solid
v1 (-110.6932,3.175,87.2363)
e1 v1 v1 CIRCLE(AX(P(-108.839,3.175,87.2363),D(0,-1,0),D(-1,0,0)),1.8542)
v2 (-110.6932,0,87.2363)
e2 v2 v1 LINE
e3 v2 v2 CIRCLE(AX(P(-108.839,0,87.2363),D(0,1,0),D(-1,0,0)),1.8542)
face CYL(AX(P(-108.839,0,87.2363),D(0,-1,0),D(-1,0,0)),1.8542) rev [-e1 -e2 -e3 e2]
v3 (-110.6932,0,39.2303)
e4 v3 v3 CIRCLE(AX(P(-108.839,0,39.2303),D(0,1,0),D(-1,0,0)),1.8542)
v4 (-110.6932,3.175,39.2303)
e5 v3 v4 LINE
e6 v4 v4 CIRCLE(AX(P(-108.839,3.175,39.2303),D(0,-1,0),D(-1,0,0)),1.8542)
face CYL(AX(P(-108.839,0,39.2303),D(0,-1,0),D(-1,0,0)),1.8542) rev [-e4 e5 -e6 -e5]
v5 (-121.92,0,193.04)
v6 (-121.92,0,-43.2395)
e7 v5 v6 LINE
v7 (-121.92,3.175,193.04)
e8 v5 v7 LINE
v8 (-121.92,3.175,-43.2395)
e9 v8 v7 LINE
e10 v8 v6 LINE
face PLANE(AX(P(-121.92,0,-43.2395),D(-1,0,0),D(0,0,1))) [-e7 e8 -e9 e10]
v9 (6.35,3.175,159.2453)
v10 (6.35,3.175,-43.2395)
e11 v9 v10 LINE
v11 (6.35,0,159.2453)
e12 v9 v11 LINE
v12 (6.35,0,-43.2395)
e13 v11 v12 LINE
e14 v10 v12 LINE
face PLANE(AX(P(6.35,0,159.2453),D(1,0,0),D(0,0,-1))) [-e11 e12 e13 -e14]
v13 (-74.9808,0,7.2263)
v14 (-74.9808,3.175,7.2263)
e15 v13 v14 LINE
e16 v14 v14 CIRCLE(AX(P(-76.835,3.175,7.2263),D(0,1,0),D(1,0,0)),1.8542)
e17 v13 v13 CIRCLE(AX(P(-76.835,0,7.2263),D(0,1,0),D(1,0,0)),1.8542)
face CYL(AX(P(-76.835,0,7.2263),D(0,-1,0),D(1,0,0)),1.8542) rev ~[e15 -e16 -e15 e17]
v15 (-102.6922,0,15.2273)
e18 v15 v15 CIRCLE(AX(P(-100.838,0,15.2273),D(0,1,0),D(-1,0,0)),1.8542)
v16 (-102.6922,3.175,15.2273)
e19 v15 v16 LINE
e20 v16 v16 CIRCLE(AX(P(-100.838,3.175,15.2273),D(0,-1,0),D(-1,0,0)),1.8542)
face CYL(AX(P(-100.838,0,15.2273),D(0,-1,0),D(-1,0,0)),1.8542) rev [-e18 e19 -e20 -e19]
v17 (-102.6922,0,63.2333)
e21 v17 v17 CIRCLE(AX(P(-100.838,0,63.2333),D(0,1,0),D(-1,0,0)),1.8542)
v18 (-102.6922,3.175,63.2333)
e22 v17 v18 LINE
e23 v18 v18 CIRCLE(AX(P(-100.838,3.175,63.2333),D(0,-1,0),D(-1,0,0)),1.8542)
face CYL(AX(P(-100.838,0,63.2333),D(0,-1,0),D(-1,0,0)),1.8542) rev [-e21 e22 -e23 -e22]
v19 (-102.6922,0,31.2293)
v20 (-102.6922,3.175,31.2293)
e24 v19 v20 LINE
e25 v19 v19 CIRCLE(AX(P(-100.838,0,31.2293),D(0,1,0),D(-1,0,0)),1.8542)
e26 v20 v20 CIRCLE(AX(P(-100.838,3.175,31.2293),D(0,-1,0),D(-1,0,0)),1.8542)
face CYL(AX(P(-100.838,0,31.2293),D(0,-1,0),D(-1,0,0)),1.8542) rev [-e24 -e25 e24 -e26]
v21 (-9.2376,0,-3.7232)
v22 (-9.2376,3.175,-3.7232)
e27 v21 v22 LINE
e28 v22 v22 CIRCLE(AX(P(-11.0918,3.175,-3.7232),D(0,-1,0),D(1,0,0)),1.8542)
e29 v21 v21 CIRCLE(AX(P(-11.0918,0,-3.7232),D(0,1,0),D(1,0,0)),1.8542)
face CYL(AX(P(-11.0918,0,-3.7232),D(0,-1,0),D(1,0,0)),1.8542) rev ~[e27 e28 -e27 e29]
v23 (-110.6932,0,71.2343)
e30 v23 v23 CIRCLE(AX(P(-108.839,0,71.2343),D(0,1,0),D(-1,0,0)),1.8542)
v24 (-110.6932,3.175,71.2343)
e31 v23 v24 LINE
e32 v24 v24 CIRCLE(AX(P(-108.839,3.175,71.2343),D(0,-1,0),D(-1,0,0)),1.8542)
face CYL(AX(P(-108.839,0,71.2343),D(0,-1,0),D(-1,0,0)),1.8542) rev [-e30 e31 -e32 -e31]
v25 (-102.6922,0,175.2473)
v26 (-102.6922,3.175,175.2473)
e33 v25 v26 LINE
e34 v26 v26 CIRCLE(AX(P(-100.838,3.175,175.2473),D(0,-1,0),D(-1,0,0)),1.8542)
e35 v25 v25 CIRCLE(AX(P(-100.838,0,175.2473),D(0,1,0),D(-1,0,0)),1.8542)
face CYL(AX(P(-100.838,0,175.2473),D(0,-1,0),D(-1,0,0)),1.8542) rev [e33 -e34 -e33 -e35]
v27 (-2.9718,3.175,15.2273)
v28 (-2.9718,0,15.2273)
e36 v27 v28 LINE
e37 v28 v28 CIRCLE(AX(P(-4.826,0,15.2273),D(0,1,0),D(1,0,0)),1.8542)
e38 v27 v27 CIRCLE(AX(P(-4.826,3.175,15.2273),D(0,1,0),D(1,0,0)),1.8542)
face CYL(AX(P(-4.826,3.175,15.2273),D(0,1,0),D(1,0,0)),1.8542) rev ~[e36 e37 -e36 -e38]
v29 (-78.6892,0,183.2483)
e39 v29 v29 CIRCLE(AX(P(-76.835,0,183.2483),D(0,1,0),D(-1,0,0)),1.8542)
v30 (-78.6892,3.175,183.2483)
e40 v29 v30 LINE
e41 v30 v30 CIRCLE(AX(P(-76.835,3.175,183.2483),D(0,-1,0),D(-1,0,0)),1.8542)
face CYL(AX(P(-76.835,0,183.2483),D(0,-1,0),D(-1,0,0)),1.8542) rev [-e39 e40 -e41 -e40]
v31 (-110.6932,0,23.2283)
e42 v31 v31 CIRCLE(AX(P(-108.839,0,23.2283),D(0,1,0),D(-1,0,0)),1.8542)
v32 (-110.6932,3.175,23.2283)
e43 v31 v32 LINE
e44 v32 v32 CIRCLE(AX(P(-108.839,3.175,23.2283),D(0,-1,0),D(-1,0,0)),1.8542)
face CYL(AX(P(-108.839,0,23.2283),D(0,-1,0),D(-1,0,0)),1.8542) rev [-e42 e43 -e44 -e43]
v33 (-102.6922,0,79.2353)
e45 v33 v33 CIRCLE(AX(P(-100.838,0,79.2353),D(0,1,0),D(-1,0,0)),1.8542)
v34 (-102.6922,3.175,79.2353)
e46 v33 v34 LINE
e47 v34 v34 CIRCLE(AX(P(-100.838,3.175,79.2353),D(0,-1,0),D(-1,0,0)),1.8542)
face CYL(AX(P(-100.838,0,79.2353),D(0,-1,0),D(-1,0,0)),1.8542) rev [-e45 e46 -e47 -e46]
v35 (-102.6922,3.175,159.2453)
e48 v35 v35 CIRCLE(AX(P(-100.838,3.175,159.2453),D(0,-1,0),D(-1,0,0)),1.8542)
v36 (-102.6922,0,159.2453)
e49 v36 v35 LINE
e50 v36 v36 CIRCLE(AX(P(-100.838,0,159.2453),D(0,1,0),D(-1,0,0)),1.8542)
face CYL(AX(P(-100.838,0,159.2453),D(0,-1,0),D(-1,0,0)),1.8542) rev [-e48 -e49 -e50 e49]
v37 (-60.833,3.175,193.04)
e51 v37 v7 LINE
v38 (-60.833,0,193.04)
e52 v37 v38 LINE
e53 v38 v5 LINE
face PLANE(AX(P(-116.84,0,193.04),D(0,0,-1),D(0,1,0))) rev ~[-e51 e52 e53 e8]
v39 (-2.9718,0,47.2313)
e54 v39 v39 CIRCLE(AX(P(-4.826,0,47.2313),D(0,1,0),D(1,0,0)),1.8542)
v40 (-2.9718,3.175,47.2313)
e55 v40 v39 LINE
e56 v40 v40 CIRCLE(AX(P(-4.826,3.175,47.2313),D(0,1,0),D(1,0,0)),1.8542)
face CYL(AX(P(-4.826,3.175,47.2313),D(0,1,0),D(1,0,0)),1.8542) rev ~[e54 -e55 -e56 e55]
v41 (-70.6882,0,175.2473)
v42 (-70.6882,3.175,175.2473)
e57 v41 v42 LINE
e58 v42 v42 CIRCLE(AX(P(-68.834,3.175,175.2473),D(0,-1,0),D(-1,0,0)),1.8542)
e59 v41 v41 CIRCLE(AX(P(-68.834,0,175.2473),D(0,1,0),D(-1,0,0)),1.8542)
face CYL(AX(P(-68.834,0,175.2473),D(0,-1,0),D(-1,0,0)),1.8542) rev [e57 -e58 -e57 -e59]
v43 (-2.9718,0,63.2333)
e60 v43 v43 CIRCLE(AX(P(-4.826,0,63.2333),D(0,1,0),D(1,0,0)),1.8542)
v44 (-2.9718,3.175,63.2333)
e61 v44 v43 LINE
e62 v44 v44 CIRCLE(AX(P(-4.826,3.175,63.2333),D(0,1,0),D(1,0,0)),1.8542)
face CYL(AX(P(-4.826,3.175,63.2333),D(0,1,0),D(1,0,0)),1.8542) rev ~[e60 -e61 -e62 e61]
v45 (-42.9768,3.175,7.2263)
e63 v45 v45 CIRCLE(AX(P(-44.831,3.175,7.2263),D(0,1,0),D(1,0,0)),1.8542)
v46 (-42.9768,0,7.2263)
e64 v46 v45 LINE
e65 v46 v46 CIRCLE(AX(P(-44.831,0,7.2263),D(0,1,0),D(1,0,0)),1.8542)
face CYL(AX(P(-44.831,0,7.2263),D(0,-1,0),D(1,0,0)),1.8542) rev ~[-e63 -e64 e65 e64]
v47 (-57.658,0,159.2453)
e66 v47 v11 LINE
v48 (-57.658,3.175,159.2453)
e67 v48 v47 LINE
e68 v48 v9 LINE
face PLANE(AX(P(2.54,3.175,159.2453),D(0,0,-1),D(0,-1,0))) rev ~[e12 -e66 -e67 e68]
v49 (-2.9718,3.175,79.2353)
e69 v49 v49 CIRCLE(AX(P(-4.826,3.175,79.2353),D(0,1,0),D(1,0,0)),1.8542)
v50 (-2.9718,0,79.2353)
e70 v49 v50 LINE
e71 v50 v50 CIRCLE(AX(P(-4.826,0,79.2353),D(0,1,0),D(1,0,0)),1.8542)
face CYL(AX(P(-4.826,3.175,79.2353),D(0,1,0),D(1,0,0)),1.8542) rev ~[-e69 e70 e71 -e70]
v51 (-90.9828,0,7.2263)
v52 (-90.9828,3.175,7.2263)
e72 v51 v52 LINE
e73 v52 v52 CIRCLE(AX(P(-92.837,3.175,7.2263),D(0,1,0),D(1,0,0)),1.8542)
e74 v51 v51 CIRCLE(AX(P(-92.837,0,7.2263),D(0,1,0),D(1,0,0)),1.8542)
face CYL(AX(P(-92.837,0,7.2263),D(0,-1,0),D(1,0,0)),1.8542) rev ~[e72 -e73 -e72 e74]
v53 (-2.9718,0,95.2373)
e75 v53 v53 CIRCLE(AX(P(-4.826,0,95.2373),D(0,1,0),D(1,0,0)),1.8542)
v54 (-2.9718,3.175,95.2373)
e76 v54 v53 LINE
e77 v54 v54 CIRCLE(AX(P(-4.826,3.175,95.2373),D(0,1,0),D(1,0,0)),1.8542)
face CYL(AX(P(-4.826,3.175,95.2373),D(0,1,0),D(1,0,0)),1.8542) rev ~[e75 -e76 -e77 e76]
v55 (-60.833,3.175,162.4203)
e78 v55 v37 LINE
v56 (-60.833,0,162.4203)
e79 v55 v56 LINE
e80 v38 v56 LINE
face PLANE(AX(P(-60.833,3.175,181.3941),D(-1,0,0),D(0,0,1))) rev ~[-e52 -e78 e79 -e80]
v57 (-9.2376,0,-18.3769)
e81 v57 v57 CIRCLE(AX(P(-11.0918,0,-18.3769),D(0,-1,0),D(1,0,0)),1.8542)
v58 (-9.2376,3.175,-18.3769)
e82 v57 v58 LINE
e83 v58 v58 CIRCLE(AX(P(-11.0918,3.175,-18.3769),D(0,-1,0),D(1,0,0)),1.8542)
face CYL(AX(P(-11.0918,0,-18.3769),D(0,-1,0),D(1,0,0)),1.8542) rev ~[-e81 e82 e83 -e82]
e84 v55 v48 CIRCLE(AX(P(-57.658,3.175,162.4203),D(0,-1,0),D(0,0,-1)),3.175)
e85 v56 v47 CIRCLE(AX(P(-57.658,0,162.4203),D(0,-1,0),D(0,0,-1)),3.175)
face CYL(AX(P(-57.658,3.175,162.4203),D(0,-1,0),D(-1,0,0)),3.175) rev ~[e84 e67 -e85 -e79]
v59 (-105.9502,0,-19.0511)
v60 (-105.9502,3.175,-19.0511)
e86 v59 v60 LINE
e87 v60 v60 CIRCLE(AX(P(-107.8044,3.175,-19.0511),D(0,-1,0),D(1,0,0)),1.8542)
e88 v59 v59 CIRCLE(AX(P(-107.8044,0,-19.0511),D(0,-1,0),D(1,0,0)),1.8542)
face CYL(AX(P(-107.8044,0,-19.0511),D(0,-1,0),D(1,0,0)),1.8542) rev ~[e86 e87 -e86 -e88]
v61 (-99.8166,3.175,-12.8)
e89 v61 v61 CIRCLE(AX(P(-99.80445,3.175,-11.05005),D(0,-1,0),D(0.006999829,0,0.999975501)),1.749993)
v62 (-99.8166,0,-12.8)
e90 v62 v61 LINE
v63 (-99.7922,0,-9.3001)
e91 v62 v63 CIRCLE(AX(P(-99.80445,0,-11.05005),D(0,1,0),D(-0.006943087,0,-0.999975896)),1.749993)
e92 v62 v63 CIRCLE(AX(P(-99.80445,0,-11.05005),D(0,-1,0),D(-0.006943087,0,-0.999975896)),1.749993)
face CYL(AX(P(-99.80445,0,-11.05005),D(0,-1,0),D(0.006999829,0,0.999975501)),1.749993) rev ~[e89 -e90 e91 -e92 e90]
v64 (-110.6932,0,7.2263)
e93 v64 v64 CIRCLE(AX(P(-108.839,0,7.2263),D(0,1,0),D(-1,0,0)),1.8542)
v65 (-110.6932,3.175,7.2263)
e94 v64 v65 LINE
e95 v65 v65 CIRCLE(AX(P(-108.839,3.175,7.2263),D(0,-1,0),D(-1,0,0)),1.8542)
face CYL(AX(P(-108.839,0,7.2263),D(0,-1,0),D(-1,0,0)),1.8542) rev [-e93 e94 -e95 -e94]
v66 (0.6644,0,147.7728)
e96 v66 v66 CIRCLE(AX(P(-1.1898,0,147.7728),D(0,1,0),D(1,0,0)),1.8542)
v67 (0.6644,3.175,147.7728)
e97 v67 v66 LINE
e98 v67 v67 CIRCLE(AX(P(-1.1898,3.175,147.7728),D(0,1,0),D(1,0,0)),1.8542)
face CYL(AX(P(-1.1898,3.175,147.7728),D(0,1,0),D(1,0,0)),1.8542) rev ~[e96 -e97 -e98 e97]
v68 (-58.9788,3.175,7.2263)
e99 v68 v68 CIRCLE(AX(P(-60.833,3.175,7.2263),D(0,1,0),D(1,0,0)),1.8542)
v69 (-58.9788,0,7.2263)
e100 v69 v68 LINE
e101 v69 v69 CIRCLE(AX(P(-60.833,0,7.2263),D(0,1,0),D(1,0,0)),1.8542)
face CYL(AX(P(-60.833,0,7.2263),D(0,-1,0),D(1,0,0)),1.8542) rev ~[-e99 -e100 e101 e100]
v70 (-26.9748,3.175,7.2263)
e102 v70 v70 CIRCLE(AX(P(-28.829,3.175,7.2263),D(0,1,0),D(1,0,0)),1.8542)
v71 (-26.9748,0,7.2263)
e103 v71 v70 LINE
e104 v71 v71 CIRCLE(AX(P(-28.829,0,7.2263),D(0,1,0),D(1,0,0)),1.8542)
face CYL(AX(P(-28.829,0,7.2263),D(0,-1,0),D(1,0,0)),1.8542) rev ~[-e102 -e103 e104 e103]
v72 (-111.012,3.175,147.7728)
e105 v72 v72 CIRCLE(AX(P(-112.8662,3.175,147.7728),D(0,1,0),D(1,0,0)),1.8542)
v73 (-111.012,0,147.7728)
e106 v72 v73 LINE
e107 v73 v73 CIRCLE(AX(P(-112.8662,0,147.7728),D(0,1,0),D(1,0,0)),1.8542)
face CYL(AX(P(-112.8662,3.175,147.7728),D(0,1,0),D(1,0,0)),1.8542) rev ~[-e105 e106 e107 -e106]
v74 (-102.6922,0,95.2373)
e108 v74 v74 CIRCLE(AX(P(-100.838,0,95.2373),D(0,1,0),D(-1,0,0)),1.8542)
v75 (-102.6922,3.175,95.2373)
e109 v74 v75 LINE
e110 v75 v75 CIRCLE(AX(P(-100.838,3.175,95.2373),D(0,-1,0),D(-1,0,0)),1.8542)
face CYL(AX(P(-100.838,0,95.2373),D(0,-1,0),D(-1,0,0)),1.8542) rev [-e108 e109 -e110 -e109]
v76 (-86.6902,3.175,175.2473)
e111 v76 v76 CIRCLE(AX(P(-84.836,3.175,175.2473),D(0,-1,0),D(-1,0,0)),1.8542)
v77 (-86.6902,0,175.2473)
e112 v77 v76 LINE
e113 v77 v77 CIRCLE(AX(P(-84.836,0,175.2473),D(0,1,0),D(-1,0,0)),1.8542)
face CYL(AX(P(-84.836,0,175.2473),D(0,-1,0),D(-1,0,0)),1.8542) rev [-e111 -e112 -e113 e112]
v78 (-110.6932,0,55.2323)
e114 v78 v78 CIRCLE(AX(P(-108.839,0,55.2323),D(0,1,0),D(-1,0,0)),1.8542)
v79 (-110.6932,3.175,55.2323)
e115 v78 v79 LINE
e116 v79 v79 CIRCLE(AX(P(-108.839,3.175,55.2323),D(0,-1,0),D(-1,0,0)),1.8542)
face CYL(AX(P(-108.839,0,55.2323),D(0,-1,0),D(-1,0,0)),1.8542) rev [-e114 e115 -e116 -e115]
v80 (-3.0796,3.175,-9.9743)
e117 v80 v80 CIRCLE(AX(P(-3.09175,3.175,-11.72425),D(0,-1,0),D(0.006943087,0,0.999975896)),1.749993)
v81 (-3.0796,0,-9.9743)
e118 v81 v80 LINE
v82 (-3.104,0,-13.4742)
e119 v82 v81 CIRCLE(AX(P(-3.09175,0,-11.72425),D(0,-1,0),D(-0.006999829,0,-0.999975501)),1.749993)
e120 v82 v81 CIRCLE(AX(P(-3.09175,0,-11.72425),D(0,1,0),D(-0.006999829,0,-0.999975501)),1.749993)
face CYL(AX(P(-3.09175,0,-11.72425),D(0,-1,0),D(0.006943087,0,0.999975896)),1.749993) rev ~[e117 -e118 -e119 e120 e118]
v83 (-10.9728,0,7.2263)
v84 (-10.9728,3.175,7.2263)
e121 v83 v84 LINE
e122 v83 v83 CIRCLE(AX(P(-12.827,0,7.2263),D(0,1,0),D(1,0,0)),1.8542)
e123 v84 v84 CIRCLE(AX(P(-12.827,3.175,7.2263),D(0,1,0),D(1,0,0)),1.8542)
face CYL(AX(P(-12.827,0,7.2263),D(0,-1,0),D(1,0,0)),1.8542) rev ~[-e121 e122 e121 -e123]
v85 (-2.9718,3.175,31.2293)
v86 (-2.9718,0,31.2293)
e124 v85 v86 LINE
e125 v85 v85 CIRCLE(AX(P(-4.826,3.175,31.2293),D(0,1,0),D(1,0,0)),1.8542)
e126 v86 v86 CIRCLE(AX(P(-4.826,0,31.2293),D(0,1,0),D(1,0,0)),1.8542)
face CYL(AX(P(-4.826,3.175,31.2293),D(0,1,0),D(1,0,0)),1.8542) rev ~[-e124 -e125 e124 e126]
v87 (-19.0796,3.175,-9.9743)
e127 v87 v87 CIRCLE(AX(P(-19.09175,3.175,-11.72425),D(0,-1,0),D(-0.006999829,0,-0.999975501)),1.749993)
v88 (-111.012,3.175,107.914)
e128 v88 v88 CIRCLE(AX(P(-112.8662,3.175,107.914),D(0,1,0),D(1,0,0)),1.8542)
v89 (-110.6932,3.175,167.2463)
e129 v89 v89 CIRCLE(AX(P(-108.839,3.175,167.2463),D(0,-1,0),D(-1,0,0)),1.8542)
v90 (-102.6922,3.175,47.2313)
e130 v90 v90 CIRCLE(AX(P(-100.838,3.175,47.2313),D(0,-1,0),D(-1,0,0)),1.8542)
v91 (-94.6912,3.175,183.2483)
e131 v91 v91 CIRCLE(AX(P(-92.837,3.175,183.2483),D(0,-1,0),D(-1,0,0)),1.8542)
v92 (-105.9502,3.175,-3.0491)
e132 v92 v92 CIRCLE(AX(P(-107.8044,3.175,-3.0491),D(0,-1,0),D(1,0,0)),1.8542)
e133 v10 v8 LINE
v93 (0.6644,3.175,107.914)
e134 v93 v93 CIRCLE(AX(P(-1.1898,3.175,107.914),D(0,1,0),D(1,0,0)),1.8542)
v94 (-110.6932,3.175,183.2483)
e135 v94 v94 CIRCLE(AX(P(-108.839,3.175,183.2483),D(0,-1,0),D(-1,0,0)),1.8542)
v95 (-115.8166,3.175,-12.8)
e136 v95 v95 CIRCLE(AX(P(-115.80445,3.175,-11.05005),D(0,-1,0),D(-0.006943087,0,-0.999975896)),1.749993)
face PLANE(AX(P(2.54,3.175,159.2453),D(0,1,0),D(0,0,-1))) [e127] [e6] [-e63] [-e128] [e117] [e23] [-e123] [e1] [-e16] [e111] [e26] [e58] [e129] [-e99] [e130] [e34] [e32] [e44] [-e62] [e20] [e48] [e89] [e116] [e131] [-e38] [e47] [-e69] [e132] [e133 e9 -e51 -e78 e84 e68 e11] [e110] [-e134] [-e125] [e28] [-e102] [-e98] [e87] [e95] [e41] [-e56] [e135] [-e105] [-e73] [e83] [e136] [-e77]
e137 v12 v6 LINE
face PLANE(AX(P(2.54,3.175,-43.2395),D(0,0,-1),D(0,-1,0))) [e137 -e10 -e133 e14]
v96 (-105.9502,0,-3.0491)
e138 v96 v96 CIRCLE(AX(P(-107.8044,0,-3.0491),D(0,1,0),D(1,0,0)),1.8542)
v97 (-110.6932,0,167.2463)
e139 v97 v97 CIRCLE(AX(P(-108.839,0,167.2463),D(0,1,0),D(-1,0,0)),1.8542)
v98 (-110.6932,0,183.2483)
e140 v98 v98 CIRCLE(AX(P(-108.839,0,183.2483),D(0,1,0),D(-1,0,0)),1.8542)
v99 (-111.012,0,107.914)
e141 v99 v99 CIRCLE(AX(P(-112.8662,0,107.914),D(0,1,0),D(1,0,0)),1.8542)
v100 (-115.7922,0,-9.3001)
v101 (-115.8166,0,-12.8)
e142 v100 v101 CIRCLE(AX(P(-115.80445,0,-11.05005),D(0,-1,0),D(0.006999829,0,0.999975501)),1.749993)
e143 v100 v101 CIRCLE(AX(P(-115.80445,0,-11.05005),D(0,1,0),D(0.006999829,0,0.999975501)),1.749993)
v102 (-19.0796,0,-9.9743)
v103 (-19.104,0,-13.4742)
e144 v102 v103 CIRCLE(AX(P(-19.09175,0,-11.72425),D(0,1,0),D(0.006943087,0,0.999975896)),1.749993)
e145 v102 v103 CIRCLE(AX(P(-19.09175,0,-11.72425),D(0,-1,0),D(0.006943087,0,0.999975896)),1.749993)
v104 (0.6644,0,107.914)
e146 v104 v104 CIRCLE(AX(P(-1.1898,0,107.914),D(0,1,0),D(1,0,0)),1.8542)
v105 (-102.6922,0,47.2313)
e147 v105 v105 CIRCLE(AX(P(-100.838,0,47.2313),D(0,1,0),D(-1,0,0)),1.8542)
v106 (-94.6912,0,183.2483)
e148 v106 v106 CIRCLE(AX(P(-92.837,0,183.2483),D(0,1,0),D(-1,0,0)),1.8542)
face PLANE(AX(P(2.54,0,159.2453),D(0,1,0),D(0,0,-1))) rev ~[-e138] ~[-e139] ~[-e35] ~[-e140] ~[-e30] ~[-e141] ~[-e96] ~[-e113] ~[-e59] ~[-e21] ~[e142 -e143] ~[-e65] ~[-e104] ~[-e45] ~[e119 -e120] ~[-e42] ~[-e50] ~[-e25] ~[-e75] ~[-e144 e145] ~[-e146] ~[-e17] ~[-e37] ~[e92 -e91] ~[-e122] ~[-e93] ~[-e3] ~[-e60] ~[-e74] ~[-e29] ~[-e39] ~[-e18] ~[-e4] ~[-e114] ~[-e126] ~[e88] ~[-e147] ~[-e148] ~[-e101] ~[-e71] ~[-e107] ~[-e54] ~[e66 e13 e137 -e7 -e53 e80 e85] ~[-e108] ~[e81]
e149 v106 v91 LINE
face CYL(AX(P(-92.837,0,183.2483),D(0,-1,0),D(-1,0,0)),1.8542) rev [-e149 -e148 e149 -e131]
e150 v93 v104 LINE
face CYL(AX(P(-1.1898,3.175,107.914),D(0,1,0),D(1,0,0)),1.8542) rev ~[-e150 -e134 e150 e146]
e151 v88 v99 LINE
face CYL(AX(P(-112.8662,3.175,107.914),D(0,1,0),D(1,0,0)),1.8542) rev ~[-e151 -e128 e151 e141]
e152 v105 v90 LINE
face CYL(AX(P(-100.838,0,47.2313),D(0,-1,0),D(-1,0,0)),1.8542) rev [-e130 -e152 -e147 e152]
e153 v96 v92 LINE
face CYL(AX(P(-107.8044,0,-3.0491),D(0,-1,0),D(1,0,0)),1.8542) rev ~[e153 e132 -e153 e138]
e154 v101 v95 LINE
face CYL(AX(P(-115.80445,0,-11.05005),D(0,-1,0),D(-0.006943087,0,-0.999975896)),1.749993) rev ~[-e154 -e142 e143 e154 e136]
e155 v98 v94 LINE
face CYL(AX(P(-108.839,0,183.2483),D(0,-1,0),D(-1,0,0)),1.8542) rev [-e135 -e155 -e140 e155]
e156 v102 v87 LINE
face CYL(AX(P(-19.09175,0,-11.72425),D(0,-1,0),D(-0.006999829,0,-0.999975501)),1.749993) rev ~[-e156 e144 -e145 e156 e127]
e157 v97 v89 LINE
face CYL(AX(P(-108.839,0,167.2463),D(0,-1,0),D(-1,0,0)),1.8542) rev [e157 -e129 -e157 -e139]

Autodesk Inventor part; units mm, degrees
ref_plane "YZ Plane" through (0, 0, 0) normal (1, 0, 0) x (0, 1, 0)
ref_plane "XZ Plane" through (0, 0, 0) normal (0, 1, 0) x (-1, 0, 0)
ref_plane "XY Plane" through (0, 0, 0) normal (0, 0, 1) x (1, 0, 0)
sketch "Sketch1" plane through (0, 0, 0) normal (0, 1, 0) x (-1, 0, 0)
  arc A0 (334.15, 5.5) -> (337.85, 5.5) centre (336, 5.5) ccw
  arc A1 (345.85, 13.5) -> (342.15, 13.5) centre (344, 13.5) ccw
  arc A2 (329.85, 13.5) -> (326.15, 13.5) centre (328, 13.5) ccw
  arc A3 (328.4931, 19.1569) -> (332.1931, 19.1569) centre (330.3431, 19.1569) ccw
  arc A4 (334.15, 21.5) -> (337.85, 21.5) centre (336, 21.5) ccw
  arc A5 (332, 13.5) -> (340, 13.5) centre (336, 13.5) ccw
  arc A6 (337.85, 181.5) -> (334.15, 181.5) centre (336, 181.5) ccw
  arc A7 (334.15, 197.5) -> (337.85, 197.5) centre (336, 197.5) ccw
  arc A8 (340, 189.5) -> (332, 189.5) centre (336, 189.5) ccw
  arc A9 (329.85, 189.5) -> (326.15, 189.5) centre (328, 189.5) ccw
  arc A10 (345.85, 189.5) -> (342.15, 189.5) centre (344, 189.5) ccw
  line L0 (352, 176) -> (352, 203)
  arc A11 (244, 13.5) -> (236, 13.5) centre (240, 13.5) ccw
  arc A12 (241.85, 21.5) -> (238.15, 21.5) centre (240, 21.5) ccw
  arc A13 (244, 189.5) -> (236, 189.5) centre (240, 189.5) ccw
  arc A14 (233.85, 189.5) -> (230.15, 189.5) centre (232, 189.5) ccw
  line L1 (228.8458, 84.7173) -> (228.8458, 88.629)
  arc A15 (336, 137.5) -> (336, 145.5) centre (336, 141.5) ccw
  arc A16 (336, 121.5) -> (336, 129.5) centre (336, 125.5) ccw
  arc A17 (336, 105.5) -> (336, 113.5) centre (336, 109.5) ccw
  arc A18 (336, 89.5) -> (336, 97.5) centre (336, 93.5) ccw
  arc A19 (336, 73.5) -> (336, 81.5) centre (336, 77.5) ccw
  arc A20 (336, 57.5) -> (336, 65.5) centre (336, 61.5) ccw
  arc A21 (336, 41.5) -> (336, 49.5) centre (336, 45.5) ccw
  arc A22 (336, 25.5) -> (336, 33.5) centre (336, 29.5) ccw
  arc A23 (336, 153.5) -> (336, 161.5) centre (336, 157.5) ccw
  arc A24 (336, 169.5) -> (336, 177.5) centre (336, 173.5) ccw
  arc A25 (260, 189.5) -> (252, 189.5) centre (256, 189.5) ccw
  arc A26 (276, 189.5) -> (268, 189.5) centre (272, 189.5) ccw
  arc A27 (292, 189.5) -> (284, 189.5) centre (288, 189.5) ccw
  arc A28 (308, 189.5) -> (300, 189.5) centre (304, 189.5) ccw
  arc A29 (324, 189.5) -> (316, 189.5) centre (320, 189.5) ccw
  line L2 (352, 203) -> (228.8458, 203)
  line L3 (228.8458, 203) -> (228.8458, 0)
  line L4 (228.8458, 0) -> (352, 0)
  line L5 (352, 0) -> (352, 203)
  line L6 (-2.54, -2.54) -> (116.84, -2.54)
  line L7 (116.84, -2.54) -> (116.84, 193.04)
  line L8 (116.84, 193.04) -> (-2.54, 193.04)
  line L9 (-2.54, 193.04) -> (-2.54, -2.54)
  line L10 (-2.54, 95.25) -> (-2.54, 183.2483)
  line L11 (-2.54, 183.2483) -> (116.84, 183.2483)
  line L12 (-2.54, 183.2483) -> (-2.54, 7.2517)
  line L13 (-2.54, 7.2517) -> (116.84, 7.2517)
  line L14 (116.84, 183.2483) -> (100.838, 183.2483)
  line L15 (100.838, 183.2483) -> (100.838, 7.2517)
  circle A30 centre (100.838, 183.2483) radius 4.0005
  circle A31 centre (84.836, 183.2483) radius 4.0005
  circle A32 centre (68.834, 183.2483) radius 4.0005
  circle A33 centre (52.832, 183.2483) radius 4.0005
  circle A34 centre (36.83, 183.2483) radius 4.0005
  circle A35 centre (20.828, 183.2483) radius 4.0005
  circle A36 centre (4.826, 183.2483) radius 4.0005
  line L16 (100.838, 183.2483) -> (100.838, 175.2473)
  circle A37 centre (100.838, 175.2473) radius 1.8542
  line L17 (100.838, 183.2483) -> (104.5464, 183.2483)
  line L18 (100.838, 183.2483) -> (108.839, 183.2483)
  circle A38 centre (108.839, 183.2483) radius 1.8542
  point P0 (287.9997, 29.5)
  point P1 (228.8458, 85.5356)
  dimension "d0" = 203
  dimension "d1" = 123.1542
  dimension "d2" = 119.38
  dimension "d3" = 195.58
  dimension "d4" = 87.9983
  dimension "d5" = 175.9966
  dimension "d6" = 16.002
  dimension "d7" = 8.001
  dimension "d10" = 16.002
  dimension "d15" = 8.001
  dimension "d16" = 3.7084
  dimension "d17" = 3.7084
  dimension "d18" = 8.001
  dimension "d19" = 3.7084
extrude "Extrusion1" add sketch "Sketch1" along normal blind 3.175 contours L9 L13 L7 L6 | L9 L11 A36 A35 A34 A33 A32 A31 A30 L15 A37 L13 | L13 L15 A37 A30 L11 A38 L7 | L11 A38 A30 A31 A32 A33 A34 A35 A36 L9 L8 L7 | A37 L15 | L15 A37 | A38 L11 | L11 A38 | A36 L11 | L11 A36 | A30 L11 L15 | L15 L11 A30 | L11 A30 | A35 L11 | L11 A35 | A31 L11 | L11 A31 | A34 L11 | L11 A34 | A32 L11 | L11 A32 | A33 L11 | L11 A33
extrude "Extrusion2" cut sketch "Sketch1" along normal blind 3.175 contours A37 L15 | L15 A37 | A38 L11 | L11 A38
pattern_linear "Rectangular Pattern1" count 7 spacing 16.002 along (1, 0, 0) of "Extrusion2"
pattern_linear "Rectangular Pattern2" count 12 spacing 16.002 along (0, 0, -1) of "Extrusion2"
sketch "Sketch2" plane through (0, 3.175, 0) normal (0, 1, 0) x (1, 0, 0)
  arc A0 (-101.4053, 2.54) -> (-100.2707, 2.54) centre (-100.838, 0.7747) ccw projected
  line L0 (2.54, 2.54) -> (-100.2707, 2.54) projected
  line L1 (-101.4053, 2.54) -> (-100.2707, 2.54)
  point P0 (0, 0)
extrude "Extrusion3" add sketch "Sketch2" against normal up to surface (3.175 mm away)
sketch "Sketch3" plane through (0, 3.175, 0) normal (0, 1, 0) x (1, 0, 0)
  line L0 (2.54, 2.54) -> (-116.84, 2.54) projected
  circle A0 centre (-108.839, -7.2263) radius 1.8542 projected
  circle A1 centre (-100.838, -15.2273) radius 1.8542 projected
  circle A2 centre (-108.839, -7.2263) radius 1.8542
  circle A3 centre (-100.838, -15.2273) radius 1.8542
  circle A4 centre (-92.837, -7.2263) radius 1.8542
  circle A5 centre (-84.836, -15.2273) radius 1.8542
  circle A6 centre (-76.835, -7.2263) radius 1.8542
  circle A7 centre (-68.834, -15.2273) radius 1.8542
  circle A8 centre (-60.833, -7.2263) radius 1.8542
  circle A9 centre (-52.832, -15.2273) radius 1.8542
  circle A10 centre (-44.831, -7.2263) radius 1.8542
  circle A11 centre (-36.83, -15.2273) radius 1.8542
  circle A12 centre (-28.829, -7.2263) radius 1.8542
  circle A13 centre (-20.828, -15.2273) radius 1.8542
  circle A14 centre (-12.827, -7.2263) radius 1.8542
  circle A15 centre (-4.826, -15.2273) radius 1.8542
  point P0 (0, 0)
  dimension "d34" = 16.002
extrude "Extrusion4" cut sketch "Sketch3" against normal blind 3.175 contours A4 | A5 | A6 | A7 | A8 | A9 | A10 | A11 | A12 | A13 | A14 | A15
sketch "Sketch4" plane through (0, 3.175, 0) normal (0, 1, 0) x (1, 0, 0)
  circle A0 centre (-36.83, -15.2273) radius 1.8542 projected
  circle A1 centre (-52.832, -15.2273) radius 1.8542 projected
  circle A2 centre (-68.834, -15.2273) radius 1.8542 projected
  line L0 (2.54, -193.04) -> (2.54, 2.54) projected
  circle A3 centre (-36.83, -175.2473) radius 1.8542 projected
  circle A4 centre (-52.832, -175.2473) radius 1.8542 projected
  circle A5 centre (-68.834, -175.2473) radius 1.8542 projected
  line L1 (-68.834, -175.2473) -> (-68.834, -15.2273)
  line L2 (-68.834, -15.2273) -> (-52.832, -15.2273)
  line L3 (-52.832, -15.2273) -> (-52.832, -175.2473)
  line L4 (-52.832, -175.2473) -> (-36.83, -175.2473)
  line L5 (-36.83, -175.2473) -> (-36.83, -15.2273)
  circle A6 centre (-68.834, -95.2373) radius 1.8542
  circle A7 centre (-52.832, -95.2373) radius 1.8542
  circle A8 centre (-36.83, -95.2373) radius 1.8542
  point P0 (0, 0)
  dimension "d41" = 3.7084
  dimension "d42" = 3.7084
  dimension "d43" = 3.7084
extrude "Extrusion5" cut sketch "Sketch4" against normal blind 25.4 contours A6 L1 | L1 A6 | A7 L3 | L3 A7 | A8 L5 | L5 A8
sketch "Sketch5" plane through (0, 3.175, 0) normal (0, 1, 0) x (1, 0, 0)
  circle A0 centre (-4.826, -159.2453) radius 1.8542
  point P0 (0, 0)
  dimension "d46" = 3.7084
extrude "Extrusion6" cut sketch "Sketch5" against normal blind 25.4
pattern_linear "Rectangular Pattern3" count 9 spacing 16.002 along (0, 0, -1) of "Extrusion6"
sketch "Sketch6" plane through (0, 3.175, 0) normal (0, 1, 0) x (1, 0, 0)
  circle A0 centre (-4.826, -175.2473) radius 1.8542 projected
  circle A1 centre (-12.827, -183.2483) radius 1.8542 projected
  circle A2 centre (-20.828, -175.2473) radius 1.8542 projected
  line L0 (2.54, -193.04) -> (-28.829, -193.04)
  line L1 (-28.829, -193.04) -> (-28.829, -159.2453)
  line L2 (-28.829, -159.2453) -> (2.54, -159.2453)
  line L3 (2.54, -159.2453) -> (2.54, -193.04)
  point P0 (0, 0)
extrude "Extrusion7" cut sketch "Sketch6" against normal blind 25.4
sketch "Sketch7" plane through (0, 3.175, 0) normal (0, 1, 0) x (1, 0, 0)
  circle A0 centre (-36.83, -95.2373) radius 1.8542 projected
  circle A1 centre (-68.834, -95.2373) radius 1.8542 projected
  circle A2 centre (-52.832, -95.2373) radius 1.8542 projected
  point P0 (0, 0)
extrude "Extrusion8" add sketch "Sketch7" against normal up to surface (3.175 mm away)
sketch "Sketch8" plane through (0, 0, 0) normal (0, -1, 0) x (1, 0, 0)
  arc A0 (-28.829, 185.1025) -> (-28.829, 181.3941) centre (-28.829, 183.2483) ccw projected
  arc A1 (-6.6802, 159.2453) -> (-2.9718, 159.2453) centre (-4.826, 159.2453) ccw projected
  line L0 (-28.829, 193.04) -> (-28.829, 159.2453)
  line L1 (-28.829, 159.2453) -> (2.54, 159.2453)
  arc A2 (-6.6802, 159.2453) -> (-2.9718, 159.2453) centre (-4.826, 159.2453) ccw
  arc A3 (-28.829, 185.1025) -> (-28.829, 181.3941) centre (-28.829, 183.2483) ccw
  point P0 (0, 0)
extrude "Extrusion9" add sketch "Sketch8" against normal up to surface (3.175 mm away)
sketch "Sketch9" plane through (0, 3.175, 0) normal (0, 1, 0) x (1, 0, 0)
  circle A0 centre (-52.832, -175.2473) radius 1.8542 projected
  circle A1 centre (-44.831, -183.2483) radius 1.8542 projected
  circle A2 centre (-36.83, -175.2473) radius 1.8542 projected
  line L0 (-116.84, -193.04) -> (-28.829, -193.04) projected
  line L1 (-60.833, -193.04) -> (-28.829, -193.04)
  line L2 (-28.829, -193.04) -> (-28.829, -159.2453)
  line L3 (-28.829, -159.2453) -> (-60.833, -159.2453)
  line L4 (-60.833, -159.2453) -> (-60.833, -193.04)
  point P0 (0, 0)
extrude "Extrusion10" cut sketch "Sketch9" against normal blind 25.4
sketch "Sketch10" plane through (0, 3.175, 0) normal (0, 1, 0) x (1, 0, 0)
  arc A0 (-60.833, -181.3941) -> (-60.833, -185.1025) centre (-60.833, -183.2483) ccw projected
  line L0 (-116.84, -193.04) -> (-60.833, -193.04) projected
  line L1 (-60.833, -181.3941) -> (-60.833, -185.1025)
  point P0 (0, 0)
extrude "Extrusion11" add sketch "Sketch10" against normal up to surface (3.175 mm away)
fillet "Fillet1" radius 3.175 1 edges at (-60.833, 1.5875, 159.2453)
sketch "Sketch11" plane through (0, 3.175, 0) normal (0, 1, 0) x (1, 0, 0)
  circle A0 centre (-112.8662, -107.914) radius 1.8542
  circle A1 centre (-1.1898, -107.914) radius 1.8542
  circle A2 centre (-1.1898, -147.7728) radius 1.8542
  circle A3 centre (-112.8662, -147.7728) radius 1.8542
  point P0 (0, 0)
  dimension "d63" = 3.7084
  dimension "d64" = 3.7084
  dimension "d65" = 3.7084
  dimension "d66" = 3.7084
extrude "Extrusion12" cut sketch "Sketch11" against normal blind 25.4
sketch "Sketch12" plane through (0, 3.175, 0) normal (0, 1, 0) x (1, 0, 0)
  circle A0 centre (-108.839, -151.2443) radius 1.8542 projected
  circle A1 centre (-100.838, -143.2433) radius 1.8542 projected
  circle A2 centre (-108.839, -135.2423) radius 1.8542 projected
  circle A3 centre (-100.838, -127.2413) radius 1.8542 projected
  circle A4 centre (-108.839, -119.2403) radius 1.8542 projected
  circle A5 centre (-100.838, -111.2393) radius 1.8542 projected
  circle A6 centre (-108.839, -103.2383) radius 1.8542 projected
  circle A7 centre (-4.826, -143.2433) radius 1.8542 projected
  circle A8 centre (-4.826, -127.2413) radius 1.8542 projected
  circle A9 centre (-4.826, -111.2393) radius 1.8542 projected
  point P0 (0, 0)
extrude "Extrusion13" add sketch "Sketch12" against normal up to surface (3.175 mm away)
sketch "Sketch13" plane through (0, 3.175, 0) normal (0, 1, 0) x (1, 0, 0)
  line L0 (-116.84, 2.54) -> (2.54, 2.54)
  line L1 (2.54, 2.54) -> (2.54, 43.2395)
  line L2 (2.54, 43.2395) -> (-116.84, 43.2395)
  line L3 (-116.84, 43.2395) -> (-116.84, 2.54)
  point P0 (0, 0)
extrude "Extrusion14" add sketch "Sketch13" against normal up to surface (3.175 mm away)
sketch "Sketch14" plane through (0, 3.175, 0) normal (0, 1, 0) x (1, 0, 0)
  circle A0 centre (-12.827, -7.2263) radius 1.8542 projected
  circle A1 centre (-28.829, -7.2263) radius 1.8542 projected
  circle A2 centre (-44.831, -7.2263) radius 1.8542 projected
  circle A3 centre (-60.833, -7.2263) radius 1.8542 projected
  circle A4 centre (-76.835, -7.2263) radius 1.8542 projected
  circle A5 centre (-92.837, -7.2263) radius 1.8542 projected
  circle A6 centre (-84.836, -15.2273) radius 1.8542 projected
  circle A7 centre (-68.834, -15.2273) radius 1.8542 projected
  circle A8 centre (-52.832, -15.2273) radius 1.8542 projected
  circle A9 centre (-36.83, -15.2273) radius 1.8542 projected
  circle A10 centre (-20.828, -15.2273) radius 1.8542 projected
  point P0 (0, 0)
extrude "Extrusion15" add sketch "Sketch14" against normal up to surface (3.175 mm away)
sketch "Sketch15" plane through (0, 0, 0) normal (0, -1, 0) x (1, 0, 0)
  arc A0 (-115.8166, -12.8) -> (-115.7922, -9.3001) centre (-115.8044, -11.0501) ccw
  arc A1 (-115.7922, -9.3001) -> (-115.8166, -12.8) centre (-115.8044, -11.0501) ccw
  arc A2 (-99.7922, -9.3001) -> (-99.8166, -12.8) centre (-99.8044, -11.0501) ccw
  arc A3 (-99.8166, -12.8) -> (-99.7922, -9.3001) centre (-99.8044, -11.0501) ccw
  arc A4 (-19.0796, -9.9743) -> (-19.104, -13.4742) centre (-19.0918, -11.7242) ccw
  arc A5 (-19.104, -13.4742) -> (-19.0796, -9.9743) centre (-19.0918, -11.7242) ccw
  arc A6 (-3.0796, -9.9743) -> (-3.104, -13.4742) centre (-3.0918, -11.7242) ccw
  arc A7 (-3.104, -13.4742) -> (-3.0796, -9.9743) centre (-3.0918, -11.7242) ccw
  line L0 (2.54, 159.2453) -> (2.54, -43.2395) projected
  line L1 (-115.8044, -11.0501) -> (-99.8044, -11.0501)
  line L2 (-99.8044, -11.0501) -> (-107.8044, -11.0501)
  line L3 (-107.8044, -11.0501) -> (-107.8044, -3.0491)
  line L4 (-19.0918, -11.7242) -> (-3.0918, -11.7242)
  line L5 (-3.0918, -11.7242) -> (-11.0918, -11.7242)
  line L6 (-11.0918, -11.7242) -> (-11.0918, -3.7232)
  circle A8 centre (-107.8044, -3.0491) radius 1.8542
  circle A9 centre (-11.0918, -3.7232) radius 1.8542
  circle A10 centre (-107.8044, -19.0511) radius 1.8542
  circle A11 centre (-11.0918, -18.3769) radius 1.8542
  dimension "d86" = 8.001
  dimension "d87" = 8.001
  dimension "d88" = 3.7084
  dimension "d89" = 3.7084
sketch "Sketch17" plane through (-116.84, 0, -43.2395) normal (-1, 0, 0) x (0, 0, 1)
  line L0 (236.2795, 0) -> (0, 0) projected
  line L1 (236.2795, 0) -> (236.2795, 3.175) projected
  line L2 (0, 3.175) -> (236.2795, 3.175) projected
  line L3 (0, 3.175) -> (0, 0) projected
  point P0 (43.2395, 0)
extrude "Extrusion18" add sketch "Sketch17" along normal blind 5.08
extrude "Extrusion19" cut sketch "Sketch15" against normal blind 127
sketch "Sketch18" plane through (0, 0, 0) normal (0, -1, 0) x (1, 0, 0)
  line L0 (2.54, 159.2453) -> (-57.658, 159.2453) projected
  circle A0 centre (-108.839, 7.2263) radius 1.8542 projected
  line L1 (-108.839, 7.2263) -> (-92.837, 7.2263)
  circle A1 centre (-92.837, 7.2263) radius 1.8542
  point P0 (0, 0)
  dimension "d92" = 16.002
  dimension "d93" = 3.7084
extrude "Extrusion20" cut sketch "Sketch18" against normal blind 127 contours A1
pattern_linear "Rectangular Pattern4" count 6 spacing 16.002 along (1, 0, 0) of "Extrusion20"
sketch "Sketch19" plane through (2.54, 0, 159.2453) normal (1, 0, 0) x (0, 0, -1)
  line L0 (0, 3.175) -> (0, 0) projected
  line L1 (0, 0) -> (202.4848, 0) projected
  line L2 (202.4848, 3.175) -> (202.4848, 0) projected
  line L3 (0, 3.175) -> (202.4848, 3.175) projected
  point P0 (159.2453, 0)
extrude "Extrusion21" add sketch "Sketch19" along normal blind 3.81
properties part number "Electronics Board NXT" material "ABS Plastic"
